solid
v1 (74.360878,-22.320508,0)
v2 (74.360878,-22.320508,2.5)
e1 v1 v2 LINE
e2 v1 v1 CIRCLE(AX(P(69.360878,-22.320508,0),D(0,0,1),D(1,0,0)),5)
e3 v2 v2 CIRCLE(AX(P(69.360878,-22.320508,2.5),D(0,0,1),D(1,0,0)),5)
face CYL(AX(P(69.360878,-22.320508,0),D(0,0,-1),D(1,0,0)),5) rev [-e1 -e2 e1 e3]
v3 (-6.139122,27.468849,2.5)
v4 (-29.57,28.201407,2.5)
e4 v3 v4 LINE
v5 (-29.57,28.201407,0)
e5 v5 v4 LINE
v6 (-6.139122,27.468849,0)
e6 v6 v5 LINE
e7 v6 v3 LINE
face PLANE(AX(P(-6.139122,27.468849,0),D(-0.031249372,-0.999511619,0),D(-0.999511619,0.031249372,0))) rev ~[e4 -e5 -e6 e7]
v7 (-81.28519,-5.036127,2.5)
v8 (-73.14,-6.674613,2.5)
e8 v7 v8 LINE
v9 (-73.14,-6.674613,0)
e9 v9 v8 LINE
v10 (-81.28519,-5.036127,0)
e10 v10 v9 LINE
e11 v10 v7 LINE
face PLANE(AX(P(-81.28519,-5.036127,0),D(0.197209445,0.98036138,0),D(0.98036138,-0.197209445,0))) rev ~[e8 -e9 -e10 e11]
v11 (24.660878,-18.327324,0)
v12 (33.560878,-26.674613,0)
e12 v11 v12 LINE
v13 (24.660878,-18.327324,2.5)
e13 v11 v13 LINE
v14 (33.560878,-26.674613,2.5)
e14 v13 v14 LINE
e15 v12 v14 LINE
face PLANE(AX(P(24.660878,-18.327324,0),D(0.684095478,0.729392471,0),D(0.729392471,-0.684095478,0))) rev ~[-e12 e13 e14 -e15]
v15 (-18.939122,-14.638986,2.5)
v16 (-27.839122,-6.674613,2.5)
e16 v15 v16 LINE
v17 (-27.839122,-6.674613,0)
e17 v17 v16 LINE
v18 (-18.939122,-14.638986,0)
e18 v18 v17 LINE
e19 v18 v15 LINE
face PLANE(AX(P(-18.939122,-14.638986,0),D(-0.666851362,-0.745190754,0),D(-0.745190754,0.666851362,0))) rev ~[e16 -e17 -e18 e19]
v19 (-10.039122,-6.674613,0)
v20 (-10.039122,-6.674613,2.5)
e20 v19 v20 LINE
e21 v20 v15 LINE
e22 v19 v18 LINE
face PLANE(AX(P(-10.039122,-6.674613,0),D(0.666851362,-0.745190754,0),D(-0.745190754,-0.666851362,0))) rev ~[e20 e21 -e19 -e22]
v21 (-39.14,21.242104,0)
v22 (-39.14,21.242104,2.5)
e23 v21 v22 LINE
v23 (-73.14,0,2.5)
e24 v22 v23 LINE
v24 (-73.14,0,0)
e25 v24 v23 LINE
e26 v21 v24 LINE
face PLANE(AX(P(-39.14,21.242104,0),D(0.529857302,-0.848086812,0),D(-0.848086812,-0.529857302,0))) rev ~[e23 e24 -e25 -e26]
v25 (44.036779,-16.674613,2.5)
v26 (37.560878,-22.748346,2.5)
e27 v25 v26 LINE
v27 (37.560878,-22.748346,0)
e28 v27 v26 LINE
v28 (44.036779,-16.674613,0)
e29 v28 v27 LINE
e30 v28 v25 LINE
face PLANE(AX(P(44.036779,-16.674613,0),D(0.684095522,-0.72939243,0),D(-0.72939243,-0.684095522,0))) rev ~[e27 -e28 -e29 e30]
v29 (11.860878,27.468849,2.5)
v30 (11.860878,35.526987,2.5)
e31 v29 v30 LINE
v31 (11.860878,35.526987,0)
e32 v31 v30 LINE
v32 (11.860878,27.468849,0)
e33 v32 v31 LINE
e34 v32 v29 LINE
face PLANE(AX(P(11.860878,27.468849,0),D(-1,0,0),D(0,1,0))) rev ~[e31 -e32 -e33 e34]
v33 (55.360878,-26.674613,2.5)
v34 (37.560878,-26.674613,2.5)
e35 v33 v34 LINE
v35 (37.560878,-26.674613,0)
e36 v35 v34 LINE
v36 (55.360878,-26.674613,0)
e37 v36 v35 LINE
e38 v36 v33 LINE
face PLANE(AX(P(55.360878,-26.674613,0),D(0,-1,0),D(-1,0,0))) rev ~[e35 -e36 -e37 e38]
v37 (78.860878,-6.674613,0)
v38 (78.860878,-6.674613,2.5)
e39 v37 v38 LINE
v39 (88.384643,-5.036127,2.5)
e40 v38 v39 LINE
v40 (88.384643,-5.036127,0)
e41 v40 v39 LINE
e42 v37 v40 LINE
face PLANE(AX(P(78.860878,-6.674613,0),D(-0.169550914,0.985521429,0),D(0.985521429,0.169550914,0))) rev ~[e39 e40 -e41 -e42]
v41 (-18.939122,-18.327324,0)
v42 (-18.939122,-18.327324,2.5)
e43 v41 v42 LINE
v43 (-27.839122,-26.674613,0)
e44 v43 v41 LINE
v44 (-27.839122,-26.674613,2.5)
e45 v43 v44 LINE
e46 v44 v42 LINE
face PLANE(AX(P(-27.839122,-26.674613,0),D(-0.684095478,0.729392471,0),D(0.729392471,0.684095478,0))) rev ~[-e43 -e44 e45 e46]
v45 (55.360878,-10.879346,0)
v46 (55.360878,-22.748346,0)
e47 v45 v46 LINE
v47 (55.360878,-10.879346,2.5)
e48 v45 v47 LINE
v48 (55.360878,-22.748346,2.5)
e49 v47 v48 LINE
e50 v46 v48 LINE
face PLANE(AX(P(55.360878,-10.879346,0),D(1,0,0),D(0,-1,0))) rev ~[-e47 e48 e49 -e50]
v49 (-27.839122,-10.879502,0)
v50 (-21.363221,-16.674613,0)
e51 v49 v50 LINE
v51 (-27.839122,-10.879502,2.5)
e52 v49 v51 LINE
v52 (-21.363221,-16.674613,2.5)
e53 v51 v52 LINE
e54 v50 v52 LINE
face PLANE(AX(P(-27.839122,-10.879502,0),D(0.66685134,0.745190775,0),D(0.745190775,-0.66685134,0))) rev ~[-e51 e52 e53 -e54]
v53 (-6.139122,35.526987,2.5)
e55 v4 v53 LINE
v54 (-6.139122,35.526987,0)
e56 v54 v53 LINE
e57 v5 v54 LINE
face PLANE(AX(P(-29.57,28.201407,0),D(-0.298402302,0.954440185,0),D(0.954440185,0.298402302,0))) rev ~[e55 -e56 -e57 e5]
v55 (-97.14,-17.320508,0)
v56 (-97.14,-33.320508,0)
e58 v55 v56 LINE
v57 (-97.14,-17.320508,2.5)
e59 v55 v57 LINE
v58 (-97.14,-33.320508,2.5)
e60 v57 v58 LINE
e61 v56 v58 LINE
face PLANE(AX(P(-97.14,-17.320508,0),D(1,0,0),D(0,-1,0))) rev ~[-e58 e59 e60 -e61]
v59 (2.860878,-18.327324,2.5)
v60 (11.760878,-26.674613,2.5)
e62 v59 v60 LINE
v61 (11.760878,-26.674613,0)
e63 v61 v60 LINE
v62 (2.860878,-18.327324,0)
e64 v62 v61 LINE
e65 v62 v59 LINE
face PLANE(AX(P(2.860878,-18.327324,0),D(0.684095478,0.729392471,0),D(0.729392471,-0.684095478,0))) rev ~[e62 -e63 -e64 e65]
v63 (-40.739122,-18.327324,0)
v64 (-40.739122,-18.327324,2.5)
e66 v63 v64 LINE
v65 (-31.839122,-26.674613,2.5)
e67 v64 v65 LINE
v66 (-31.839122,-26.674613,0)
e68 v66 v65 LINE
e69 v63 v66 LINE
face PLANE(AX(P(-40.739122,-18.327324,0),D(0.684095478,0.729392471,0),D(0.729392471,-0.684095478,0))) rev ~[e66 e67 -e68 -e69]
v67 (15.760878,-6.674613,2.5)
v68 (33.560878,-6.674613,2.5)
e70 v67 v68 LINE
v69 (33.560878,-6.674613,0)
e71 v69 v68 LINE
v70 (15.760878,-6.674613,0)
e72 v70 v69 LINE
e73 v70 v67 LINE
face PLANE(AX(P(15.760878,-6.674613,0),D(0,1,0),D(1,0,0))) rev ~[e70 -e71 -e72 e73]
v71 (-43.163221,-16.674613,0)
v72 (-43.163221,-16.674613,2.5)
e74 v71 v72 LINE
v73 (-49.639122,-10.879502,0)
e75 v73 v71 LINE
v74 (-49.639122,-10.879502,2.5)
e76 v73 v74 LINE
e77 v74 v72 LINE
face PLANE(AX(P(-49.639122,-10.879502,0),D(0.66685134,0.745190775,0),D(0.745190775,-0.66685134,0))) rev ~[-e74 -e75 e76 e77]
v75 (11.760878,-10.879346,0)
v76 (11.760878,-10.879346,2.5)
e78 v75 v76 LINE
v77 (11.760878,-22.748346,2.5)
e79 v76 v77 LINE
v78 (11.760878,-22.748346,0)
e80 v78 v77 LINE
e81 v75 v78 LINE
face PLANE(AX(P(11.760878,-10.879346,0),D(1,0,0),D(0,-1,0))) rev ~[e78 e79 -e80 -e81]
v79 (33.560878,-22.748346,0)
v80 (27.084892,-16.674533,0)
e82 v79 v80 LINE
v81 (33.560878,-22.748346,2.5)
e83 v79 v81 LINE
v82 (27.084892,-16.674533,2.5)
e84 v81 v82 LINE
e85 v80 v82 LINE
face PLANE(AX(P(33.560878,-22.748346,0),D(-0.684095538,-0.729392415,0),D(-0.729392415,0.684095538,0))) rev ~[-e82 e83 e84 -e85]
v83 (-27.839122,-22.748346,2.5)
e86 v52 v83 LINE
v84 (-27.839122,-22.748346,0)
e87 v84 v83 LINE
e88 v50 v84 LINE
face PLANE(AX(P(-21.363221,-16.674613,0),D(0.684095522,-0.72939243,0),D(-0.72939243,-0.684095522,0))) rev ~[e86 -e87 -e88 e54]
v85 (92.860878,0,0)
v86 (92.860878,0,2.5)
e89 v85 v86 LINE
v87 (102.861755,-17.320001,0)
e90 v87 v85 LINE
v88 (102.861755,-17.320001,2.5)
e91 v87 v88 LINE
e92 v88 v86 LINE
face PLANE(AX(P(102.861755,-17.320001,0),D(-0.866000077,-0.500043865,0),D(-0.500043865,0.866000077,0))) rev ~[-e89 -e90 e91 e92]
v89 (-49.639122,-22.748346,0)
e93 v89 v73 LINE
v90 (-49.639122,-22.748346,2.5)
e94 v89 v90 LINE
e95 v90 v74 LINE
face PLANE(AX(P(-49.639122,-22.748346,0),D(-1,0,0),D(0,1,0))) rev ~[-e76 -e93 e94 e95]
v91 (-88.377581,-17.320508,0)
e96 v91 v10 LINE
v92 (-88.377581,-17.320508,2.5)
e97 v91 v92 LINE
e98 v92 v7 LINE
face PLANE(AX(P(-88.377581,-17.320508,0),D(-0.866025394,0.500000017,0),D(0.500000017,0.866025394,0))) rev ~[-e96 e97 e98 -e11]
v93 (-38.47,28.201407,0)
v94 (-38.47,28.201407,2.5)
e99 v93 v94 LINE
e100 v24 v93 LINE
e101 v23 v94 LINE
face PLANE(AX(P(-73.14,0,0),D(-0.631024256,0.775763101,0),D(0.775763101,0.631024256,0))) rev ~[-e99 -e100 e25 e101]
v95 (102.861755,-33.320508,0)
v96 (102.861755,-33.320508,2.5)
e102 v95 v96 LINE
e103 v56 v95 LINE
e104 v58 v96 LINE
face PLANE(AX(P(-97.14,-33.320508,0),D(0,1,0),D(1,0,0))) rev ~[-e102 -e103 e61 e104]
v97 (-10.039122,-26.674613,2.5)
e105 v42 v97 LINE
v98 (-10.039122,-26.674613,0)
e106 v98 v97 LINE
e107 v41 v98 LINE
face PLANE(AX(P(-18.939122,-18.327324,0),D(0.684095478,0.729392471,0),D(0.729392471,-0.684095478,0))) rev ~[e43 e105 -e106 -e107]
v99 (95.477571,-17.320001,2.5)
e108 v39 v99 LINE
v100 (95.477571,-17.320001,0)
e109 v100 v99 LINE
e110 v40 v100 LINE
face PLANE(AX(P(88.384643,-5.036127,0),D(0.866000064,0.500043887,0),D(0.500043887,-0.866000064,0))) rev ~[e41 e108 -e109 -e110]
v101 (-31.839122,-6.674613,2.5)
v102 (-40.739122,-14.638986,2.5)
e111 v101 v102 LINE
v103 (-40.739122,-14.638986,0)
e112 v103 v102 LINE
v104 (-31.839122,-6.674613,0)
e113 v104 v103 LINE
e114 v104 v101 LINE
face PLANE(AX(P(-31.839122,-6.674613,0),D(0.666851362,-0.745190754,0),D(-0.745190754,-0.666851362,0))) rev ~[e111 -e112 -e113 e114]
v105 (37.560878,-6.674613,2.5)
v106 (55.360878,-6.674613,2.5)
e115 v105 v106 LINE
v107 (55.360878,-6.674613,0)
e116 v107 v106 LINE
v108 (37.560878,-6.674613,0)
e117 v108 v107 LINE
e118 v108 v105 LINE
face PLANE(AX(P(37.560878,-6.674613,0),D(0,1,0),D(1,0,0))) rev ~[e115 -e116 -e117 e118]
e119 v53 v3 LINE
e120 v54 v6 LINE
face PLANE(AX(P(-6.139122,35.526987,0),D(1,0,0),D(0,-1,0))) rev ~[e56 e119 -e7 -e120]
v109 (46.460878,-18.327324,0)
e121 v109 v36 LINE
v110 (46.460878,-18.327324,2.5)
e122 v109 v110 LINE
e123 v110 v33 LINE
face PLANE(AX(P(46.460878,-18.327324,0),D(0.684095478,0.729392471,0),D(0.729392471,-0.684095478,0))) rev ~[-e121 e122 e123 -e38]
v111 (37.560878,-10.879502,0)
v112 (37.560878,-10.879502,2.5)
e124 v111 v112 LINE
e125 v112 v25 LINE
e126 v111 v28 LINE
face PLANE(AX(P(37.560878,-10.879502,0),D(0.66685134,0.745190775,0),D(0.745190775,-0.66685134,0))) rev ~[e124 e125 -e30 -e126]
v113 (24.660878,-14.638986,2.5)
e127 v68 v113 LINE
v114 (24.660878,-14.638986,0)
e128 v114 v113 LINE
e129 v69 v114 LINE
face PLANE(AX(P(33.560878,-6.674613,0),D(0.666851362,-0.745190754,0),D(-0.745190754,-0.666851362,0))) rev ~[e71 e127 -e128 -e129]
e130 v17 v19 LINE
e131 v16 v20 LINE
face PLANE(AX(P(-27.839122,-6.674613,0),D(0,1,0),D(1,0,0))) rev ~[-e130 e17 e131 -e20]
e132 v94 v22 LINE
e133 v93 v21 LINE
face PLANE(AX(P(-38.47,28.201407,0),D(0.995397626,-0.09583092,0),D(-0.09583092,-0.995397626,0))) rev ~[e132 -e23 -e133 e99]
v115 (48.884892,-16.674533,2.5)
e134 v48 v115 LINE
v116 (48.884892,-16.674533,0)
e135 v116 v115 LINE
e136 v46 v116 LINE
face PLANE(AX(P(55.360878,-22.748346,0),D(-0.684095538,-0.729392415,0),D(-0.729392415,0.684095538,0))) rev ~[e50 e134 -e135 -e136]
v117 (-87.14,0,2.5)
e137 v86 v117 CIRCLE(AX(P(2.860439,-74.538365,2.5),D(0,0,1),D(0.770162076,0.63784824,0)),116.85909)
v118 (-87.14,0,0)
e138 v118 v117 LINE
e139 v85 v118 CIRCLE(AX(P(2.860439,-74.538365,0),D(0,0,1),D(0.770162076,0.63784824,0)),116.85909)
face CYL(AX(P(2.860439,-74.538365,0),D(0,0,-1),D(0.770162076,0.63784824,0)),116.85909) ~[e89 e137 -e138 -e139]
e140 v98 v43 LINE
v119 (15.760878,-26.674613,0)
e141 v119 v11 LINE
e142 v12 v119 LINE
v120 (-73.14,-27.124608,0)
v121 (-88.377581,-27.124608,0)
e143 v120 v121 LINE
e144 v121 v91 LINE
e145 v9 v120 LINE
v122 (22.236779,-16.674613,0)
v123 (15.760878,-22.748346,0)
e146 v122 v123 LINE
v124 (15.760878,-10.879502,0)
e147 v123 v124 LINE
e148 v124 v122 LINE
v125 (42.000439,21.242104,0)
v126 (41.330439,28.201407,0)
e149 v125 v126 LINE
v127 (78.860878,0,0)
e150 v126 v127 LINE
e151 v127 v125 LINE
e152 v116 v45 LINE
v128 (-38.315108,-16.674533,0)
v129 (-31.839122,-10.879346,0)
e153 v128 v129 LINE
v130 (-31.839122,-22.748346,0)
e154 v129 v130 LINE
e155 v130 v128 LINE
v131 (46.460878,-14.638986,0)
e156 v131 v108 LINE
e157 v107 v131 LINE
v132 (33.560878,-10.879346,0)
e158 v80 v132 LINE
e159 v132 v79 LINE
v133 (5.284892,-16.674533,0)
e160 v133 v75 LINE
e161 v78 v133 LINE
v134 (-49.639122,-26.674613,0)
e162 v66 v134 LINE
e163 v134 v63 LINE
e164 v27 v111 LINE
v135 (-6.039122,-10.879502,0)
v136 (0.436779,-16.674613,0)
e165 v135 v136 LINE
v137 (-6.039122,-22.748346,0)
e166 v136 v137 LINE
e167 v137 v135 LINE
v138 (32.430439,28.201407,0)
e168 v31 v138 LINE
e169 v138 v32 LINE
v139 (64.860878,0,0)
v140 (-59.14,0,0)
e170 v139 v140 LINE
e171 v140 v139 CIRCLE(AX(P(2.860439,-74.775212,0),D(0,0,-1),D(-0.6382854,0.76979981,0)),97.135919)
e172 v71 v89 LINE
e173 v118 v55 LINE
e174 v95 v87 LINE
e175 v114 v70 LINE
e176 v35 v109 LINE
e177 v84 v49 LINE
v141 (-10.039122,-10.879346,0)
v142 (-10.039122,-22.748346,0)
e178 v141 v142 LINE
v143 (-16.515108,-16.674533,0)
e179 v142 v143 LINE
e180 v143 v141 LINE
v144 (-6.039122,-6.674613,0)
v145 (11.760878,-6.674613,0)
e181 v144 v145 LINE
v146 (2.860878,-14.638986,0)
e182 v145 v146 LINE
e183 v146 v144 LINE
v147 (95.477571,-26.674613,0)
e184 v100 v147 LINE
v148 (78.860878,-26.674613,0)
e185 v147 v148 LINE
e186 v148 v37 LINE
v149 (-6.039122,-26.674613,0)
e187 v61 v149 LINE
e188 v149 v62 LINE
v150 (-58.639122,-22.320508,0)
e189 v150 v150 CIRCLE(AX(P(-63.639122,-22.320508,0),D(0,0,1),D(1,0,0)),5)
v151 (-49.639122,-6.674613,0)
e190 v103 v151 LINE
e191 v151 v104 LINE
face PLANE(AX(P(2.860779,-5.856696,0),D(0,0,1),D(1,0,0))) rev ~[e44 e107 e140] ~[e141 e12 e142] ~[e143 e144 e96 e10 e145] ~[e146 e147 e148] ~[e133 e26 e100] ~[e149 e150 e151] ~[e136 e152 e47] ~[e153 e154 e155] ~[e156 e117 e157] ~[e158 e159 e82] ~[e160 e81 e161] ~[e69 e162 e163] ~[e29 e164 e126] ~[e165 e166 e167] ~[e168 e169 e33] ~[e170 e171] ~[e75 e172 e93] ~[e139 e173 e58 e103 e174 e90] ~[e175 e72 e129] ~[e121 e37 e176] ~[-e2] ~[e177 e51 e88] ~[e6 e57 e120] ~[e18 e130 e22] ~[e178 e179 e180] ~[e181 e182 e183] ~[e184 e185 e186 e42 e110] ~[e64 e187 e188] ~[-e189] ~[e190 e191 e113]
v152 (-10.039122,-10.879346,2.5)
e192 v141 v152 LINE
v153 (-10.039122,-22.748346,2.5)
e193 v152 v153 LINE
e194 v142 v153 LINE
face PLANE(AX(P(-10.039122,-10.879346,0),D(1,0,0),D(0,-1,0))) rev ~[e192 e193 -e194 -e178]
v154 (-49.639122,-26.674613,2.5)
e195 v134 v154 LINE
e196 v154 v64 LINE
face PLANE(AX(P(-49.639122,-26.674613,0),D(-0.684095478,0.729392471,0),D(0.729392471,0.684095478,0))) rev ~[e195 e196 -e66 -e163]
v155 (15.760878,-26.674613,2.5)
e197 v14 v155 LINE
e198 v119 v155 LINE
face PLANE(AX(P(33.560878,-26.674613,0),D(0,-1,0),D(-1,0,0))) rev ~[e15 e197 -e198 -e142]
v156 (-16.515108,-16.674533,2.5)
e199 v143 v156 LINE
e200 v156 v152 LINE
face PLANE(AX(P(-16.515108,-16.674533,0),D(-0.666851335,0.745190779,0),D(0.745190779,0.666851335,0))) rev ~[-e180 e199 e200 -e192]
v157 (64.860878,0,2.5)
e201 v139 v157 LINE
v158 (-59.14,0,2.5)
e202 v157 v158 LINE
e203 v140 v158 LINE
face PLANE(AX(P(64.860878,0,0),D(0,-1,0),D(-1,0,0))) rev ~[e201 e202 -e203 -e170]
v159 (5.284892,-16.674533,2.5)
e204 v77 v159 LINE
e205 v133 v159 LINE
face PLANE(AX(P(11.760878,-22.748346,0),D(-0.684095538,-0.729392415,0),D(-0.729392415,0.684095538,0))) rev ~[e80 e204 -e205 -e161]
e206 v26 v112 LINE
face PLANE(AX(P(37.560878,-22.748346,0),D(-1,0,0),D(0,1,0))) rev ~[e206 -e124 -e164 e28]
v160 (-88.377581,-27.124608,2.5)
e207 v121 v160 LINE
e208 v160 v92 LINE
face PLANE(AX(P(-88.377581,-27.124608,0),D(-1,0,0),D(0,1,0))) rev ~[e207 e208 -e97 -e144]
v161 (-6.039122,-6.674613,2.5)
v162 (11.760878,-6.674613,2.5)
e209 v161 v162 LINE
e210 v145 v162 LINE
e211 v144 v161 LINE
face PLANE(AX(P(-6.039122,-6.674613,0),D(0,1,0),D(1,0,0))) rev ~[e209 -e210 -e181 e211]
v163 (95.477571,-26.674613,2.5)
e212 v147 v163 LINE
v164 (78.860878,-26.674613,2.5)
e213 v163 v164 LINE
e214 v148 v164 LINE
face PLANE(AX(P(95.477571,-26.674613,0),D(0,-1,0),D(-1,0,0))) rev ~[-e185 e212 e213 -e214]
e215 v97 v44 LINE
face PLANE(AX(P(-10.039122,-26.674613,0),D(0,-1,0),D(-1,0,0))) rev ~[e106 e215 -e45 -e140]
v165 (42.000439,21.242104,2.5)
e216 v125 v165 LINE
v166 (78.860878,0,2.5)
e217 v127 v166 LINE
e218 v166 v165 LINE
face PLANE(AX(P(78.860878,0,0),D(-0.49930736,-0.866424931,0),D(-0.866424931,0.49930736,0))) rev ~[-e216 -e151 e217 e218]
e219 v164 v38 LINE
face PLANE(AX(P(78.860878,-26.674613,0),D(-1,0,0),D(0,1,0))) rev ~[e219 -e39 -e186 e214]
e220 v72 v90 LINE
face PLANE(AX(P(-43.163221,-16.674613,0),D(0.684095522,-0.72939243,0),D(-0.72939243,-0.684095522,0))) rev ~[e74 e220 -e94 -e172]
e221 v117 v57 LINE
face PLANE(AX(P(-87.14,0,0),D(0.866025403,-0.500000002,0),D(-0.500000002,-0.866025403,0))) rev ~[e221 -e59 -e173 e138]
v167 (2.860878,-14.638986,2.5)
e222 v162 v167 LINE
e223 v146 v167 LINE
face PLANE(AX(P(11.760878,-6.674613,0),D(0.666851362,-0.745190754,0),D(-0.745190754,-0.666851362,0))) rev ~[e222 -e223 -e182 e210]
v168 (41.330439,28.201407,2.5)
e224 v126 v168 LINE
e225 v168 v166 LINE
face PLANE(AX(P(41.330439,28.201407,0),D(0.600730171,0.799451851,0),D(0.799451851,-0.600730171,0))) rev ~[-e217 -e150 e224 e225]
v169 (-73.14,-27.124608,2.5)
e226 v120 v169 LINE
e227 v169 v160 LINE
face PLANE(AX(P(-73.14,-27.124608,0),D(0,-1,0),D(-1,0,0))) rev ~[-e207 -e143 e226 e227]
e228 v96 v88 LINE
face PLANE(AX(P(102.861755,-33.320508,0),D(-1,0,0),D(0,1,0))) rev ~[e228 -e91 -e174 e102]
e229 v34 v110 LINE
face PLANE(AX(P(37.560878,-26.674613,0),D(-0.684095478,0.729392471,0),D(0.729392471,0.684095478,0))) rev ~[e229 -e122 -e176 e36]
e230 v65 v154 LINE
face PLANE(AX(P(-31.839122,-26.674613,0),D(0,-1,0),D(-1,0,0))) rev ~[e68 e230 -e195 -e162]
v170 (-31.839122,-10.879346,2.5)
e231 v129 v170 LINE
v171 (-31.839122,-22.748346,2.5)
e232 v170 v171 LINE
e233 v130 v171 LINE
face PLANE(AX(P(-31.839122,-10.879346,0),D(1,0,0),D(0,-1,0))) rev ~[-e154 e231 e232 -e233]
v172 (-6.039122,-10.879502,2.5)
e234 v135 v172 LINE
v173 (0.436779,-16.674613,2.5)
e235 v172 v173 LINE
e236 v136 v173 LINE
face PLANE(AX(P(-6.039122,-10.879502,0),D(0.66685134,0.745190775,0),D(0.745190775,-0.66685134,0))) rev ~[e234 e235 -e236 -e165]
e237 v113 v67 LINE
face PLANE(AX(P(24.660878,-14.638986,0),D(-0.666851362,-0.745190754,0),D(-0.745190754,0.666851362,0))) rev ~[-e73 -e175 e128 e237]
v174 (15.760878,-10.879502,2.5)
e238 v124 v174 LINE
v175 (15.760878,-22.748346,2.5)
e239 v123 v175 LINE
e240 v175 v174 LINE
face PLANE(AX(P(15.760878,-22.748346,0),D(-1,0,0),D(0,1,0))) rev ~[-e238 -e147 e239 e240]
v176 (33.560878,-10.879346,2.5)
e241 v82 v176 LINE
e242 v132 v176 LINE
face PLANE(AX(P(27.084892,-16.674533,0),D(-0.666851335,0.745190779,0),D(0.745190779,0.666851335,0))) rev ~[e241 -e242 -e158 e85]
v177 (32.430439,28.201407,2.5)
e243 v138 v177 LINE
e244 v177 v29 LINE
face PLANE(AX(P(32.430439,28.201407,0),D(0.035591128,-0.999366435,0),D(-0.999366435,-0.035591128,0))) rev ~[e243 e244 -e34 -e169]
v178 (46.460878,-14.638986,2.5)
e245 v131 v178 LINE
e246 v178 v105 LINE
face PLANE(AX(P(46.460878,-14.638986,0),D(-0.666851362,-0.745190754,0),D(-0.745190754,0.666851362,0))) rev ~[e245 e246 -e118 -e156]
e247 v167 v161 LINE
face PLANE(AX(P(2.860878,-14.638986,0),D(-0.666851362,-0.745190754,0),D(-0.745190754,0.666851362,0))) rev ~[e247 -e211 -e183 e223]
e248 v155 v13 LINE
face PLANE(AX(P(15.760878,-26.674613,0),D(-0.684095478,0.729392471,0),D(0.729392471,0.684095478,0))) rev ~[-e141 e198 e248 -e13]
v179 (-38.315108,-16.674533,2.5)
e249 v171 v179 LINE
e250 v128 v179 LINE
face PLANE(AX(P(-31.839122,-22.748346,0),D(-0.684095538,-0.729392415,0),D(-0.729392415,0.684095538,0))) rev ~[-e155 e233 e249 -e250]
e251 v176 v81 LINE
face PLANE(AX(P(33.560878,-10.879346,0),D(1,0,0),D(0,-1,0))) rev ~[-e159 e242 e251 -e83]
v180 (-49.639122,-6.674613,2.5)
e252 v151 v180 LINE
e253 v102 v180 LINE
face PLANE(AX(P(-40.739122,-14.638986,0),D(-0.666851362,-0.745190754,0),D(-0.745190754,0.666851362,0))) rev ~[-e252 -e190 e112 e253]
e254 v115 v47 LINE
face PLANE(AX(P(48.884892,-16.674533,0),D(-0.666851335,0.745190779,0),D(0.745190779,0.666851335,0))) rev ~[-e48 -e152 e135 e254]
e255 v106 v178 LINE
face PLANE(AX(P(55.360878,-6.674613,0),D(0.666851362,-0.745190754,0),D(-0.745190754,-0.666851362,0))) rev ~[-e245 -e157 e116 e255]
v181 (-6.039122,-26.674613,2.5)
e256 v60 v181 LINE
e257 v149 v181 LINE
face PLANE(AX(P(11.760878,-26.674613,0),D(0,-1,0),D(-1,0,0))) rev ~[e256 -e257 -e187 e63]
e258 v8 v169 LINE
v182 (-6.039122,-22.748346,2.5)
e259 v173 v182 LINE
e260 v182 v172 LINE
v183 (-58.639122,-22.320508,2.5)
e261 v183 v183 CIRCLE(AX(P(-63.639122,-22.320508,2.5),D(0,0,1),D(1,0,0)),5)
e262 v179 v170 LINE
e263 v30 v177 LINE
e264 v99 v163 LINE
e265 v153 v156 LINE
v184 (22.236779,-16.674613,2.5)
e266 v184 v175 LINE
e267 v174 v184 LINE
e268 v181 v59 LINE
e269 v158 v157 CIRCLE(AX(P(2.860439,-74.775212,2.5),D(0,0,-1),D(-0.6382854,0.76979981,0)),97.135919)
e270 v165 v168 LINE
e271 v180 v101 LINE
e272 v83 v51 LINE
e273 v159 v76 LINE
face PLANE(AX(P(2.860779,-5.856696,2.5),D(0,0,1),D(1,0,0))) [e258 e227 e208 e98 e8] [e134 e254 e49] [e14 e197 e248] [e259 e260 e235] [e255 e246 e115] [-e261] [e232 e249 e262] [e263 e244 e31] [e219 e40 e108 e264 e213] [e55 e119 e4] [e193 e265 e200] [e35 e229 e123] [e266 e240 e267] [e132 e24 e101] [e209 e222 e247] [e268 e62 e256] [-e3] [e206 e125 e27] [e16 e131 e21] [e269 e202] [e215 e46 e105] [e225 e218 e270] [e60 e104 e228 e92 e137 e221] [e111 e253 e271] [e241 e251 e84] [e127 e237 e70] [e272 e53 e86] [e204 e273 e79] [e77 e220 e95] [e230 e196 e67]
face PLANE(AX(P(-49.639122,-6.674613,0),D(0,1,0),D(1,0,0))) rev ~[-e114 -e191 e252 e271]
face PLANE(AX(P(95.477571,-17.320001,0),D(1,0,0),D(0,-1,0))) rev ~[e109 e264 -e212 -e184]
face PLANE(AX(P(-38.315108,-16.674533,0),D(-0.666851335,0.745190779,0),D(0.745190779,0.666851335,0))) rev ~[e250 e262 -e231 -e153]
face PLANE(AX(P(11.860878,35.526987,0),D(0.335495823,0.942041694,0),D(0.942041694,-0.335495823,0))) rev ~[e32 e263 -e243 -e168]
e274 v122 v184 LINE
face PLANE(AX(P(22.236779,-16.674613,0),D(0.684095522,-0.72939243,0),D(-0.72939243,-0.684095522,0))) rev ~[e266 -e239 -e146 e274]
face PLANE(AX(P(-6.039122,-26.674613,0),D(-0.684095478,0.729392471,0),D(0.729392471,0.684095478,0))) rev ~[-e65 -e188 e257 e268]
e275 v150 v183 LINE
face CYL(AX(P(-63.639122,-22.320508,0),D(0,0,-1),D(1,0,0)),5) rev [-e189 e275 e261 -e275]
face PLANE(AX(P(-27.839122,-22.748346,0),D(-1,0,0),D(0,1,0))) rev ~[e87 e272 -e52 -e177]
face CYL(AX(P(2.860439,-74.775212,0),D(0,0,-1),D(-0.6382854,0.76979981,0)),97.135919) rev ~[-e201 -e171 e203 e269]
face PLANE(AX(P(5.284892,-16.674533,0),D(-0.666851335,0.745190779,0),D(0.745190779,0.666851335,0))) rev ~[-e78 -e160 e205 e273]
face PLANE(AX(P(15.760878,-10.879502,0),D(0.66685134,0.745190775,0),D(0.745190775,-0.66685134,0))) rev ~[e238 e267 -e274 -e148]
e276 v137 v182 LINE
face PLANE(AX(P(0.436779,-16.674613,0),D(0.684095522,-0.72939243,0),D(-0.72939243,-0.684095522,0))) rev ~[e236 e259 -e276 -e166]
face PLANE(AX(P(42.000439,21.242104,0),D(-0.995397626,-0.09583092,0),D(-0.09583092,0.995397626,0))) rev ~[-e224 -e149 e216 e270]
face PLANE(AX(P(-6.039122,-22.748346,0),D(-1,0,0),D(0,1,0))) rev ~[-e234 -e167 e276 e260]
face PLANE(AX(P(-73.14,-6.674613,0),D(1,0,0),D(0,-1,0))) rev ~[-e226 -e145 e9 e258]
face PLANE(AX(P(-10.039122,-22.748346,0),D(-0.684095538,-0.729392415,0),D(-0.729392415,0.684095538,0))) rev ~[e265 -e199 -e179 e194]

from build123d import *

# Parameters (mm, degrees)
F0_R     = 5
F1_DEPTH = 2.5


with BuildPart() as f1:
    # F0 (on Top) → F1 (new body)
    with BuildSketch(Plane.XY):
        with BuildLine():
            Line((-97.14, -17.320508), (-97.14, -33.320508))
            Line((-97.14, -33.320508), (-63.639122, -33.320508))
            Line((-63.639122, -33.320508), (69.360878, -33.320508))
            Line((69.360878, -33.320508), (102.861755, -33.320508))
            Line((102.861755, -33.320508), (102.861755, -17.320001))
            Line((102.861755, -17.320001), (92.860878, 0))
            ThreePointArc((92.860878, 0), (2.860439, 42.320725), (-87.14, 0))
            Line((-87.14, 0), (-97.14, -17.320508))
        make_face()
        Polygon((-88.377581, -17.320508), (-81.28519, -5.036127), (-73.14, -6.674613), (-73.14, -27.124608), (-88.377581, -27.124608), align=None, mode=Mode.SUBTRACT)
        with Locations((-63.639122, -22.320508)):
            Circle(F0_R, mode=Mode.SUBTRACT)
        Polygon((-31.839122, -26.674613), (-49.639122, -26.674613), (-40.739122, -18.327324), align=None, mode=Mode.SUBTRACT)
        Polygon((-49.639122, -10.879502), (-43.163221, -16.674613), (-49.639122, -22.748346), align=None, mode=Mode.SUBTRACT)
        Polygon((-31.839122, -22.748346), (-38.315108, -16.674533), (-31.839122, -10.879346), align=None, mode=Mode.SUBTRACT)
        Polygon((-27.839122, -10.879502), (-21.363221, -16.674613), (-27.839122, -22.748346), align=None, mode=Mode.SUBTRACT)
        Polygon((-10.039122, -26.674613), (-27.839122, -26.674613), (-18.939122, -18.327324), align=None, mode=Mode.SUBTRACT)
        Polygon((11.760878, -26.674613), (-6.039122, -26.674613), (2.860878, -18.327324), align=None, mode=Mode.SUBTRACT)
        Polygon((-10.039122, -22.748346), (-16.515108, -16.674533), (-10.039122, -10.879346), align=None, mode=Mode.SUBTRACT)
        Polygon((-6.039122, -10.879502), (0.436779, -16.674613), (-6.039122, -22.748346), align=None, mode=Mode.SUBTRACT)
        Polygon((-40.739122, -14.638986), (-49.639122, -6.674613), (-31.839122, -6.674613), align=None, mode=Mode.SUBTRACT)
        Polygon((-27.839122, -6.674613), (-10.039122, -6.674613), (-18.939122, -14.638986), align=None, mode=Mode.SUBTRACT)
        Polygon((33.560878, -26.674613), (15.760878, -26.674613), (24.660878, -18.327324), align=None, mode=Mode.SUBTRACT)
        Polygon((11.760878, -22.748346), (5.284892, -16.674533), (11.760878, -10.879346), align=None, mode=Mode.SUBTRACT)
        Polygon((15.760878, -10.879502), (22.236779, -16.674613), (15.760878, -22.748346), align=None, mode=Mode.SUBTRACT)
        Polygon((55.360878, -26.674613), (37.560878, -26.674613), (46.460878, -18.327324), align=None, mode=Mode.SUBTRACT)
        Polygon((33.560878, -22.748346), (27.084892, -16.674533), (33.560878, -10.879346), align=None, mode=Mode.SUBTRACT)
        Polygon((37.560878, -10.879502), (44.036779, -16.674613), (37.560878, -22.748346), align=None, mode=Mode.SUBTRACT)
        Polygon((55.360878, -22.748346), (48.884892, -16.674533), (55.360878, -10.879346), align=None, mode=Mode.SUBTRACT)
        with Locations((69.360878, -22.320508)):
            Circle(F0_R, mode=Mode.SUBTRACT)
        Polygon((88.384643, -5.036127), (95.477571, -17.320001), (95.477571, -26.674613), (78.860878, -26.674613), (78.860878, -6.674613), align=None, mode=Mode.SUBTRACT)
        Polygon((-6.039122, -6.674613), (11.760878, -6.674613), (2.860878, -14.638986), align=None, mode=Mode.SUBTRACT)
        Polygon((15.760878, -6.674613), (33.560878, -6.674613), (24.660878, -14.638986), align=None, mode=Mode.SUBTRACT)
        Polygon((37.560878, -6.674613), (55.360878, -6.674613), (46.460878, -14.638986), align=None, mode=Mode.SUBTRACT)
        Polygon((-38.47, 28.201407), (-39.14, 21.242104), (-73.14, 0), align=None, mode=Mode.SUBTRACT)
        with BuildLine():
            ThreePointArc((-59.14, 0), (2.860439, 22.360707), (64.860878, 0))
            Line((64.860878, 0), (0, 0))
            Line((0, 0), (-59.14, 0))
        make_face(mode=Mode.SUBTRACT)
        Polygon((-29.57, 28.201407), (-6.139122, 35.526987), (-6.139122, 27.468849), align=None, mode=Mode.SUBTRACT)
        Polygon((78.860878, 0), (42.000439, 21.242104), (41.330439, 28.201407), align=None, mode=Mode.SUBTRACT)
        Polygon((11.860878, 27.468849), (11.860878, 35.526987), (32.430439, 28.201407), align=None, mode=Mode.SUBTRACT)
    extrude(amount=F1_DEPTH)


solid = f1.part
